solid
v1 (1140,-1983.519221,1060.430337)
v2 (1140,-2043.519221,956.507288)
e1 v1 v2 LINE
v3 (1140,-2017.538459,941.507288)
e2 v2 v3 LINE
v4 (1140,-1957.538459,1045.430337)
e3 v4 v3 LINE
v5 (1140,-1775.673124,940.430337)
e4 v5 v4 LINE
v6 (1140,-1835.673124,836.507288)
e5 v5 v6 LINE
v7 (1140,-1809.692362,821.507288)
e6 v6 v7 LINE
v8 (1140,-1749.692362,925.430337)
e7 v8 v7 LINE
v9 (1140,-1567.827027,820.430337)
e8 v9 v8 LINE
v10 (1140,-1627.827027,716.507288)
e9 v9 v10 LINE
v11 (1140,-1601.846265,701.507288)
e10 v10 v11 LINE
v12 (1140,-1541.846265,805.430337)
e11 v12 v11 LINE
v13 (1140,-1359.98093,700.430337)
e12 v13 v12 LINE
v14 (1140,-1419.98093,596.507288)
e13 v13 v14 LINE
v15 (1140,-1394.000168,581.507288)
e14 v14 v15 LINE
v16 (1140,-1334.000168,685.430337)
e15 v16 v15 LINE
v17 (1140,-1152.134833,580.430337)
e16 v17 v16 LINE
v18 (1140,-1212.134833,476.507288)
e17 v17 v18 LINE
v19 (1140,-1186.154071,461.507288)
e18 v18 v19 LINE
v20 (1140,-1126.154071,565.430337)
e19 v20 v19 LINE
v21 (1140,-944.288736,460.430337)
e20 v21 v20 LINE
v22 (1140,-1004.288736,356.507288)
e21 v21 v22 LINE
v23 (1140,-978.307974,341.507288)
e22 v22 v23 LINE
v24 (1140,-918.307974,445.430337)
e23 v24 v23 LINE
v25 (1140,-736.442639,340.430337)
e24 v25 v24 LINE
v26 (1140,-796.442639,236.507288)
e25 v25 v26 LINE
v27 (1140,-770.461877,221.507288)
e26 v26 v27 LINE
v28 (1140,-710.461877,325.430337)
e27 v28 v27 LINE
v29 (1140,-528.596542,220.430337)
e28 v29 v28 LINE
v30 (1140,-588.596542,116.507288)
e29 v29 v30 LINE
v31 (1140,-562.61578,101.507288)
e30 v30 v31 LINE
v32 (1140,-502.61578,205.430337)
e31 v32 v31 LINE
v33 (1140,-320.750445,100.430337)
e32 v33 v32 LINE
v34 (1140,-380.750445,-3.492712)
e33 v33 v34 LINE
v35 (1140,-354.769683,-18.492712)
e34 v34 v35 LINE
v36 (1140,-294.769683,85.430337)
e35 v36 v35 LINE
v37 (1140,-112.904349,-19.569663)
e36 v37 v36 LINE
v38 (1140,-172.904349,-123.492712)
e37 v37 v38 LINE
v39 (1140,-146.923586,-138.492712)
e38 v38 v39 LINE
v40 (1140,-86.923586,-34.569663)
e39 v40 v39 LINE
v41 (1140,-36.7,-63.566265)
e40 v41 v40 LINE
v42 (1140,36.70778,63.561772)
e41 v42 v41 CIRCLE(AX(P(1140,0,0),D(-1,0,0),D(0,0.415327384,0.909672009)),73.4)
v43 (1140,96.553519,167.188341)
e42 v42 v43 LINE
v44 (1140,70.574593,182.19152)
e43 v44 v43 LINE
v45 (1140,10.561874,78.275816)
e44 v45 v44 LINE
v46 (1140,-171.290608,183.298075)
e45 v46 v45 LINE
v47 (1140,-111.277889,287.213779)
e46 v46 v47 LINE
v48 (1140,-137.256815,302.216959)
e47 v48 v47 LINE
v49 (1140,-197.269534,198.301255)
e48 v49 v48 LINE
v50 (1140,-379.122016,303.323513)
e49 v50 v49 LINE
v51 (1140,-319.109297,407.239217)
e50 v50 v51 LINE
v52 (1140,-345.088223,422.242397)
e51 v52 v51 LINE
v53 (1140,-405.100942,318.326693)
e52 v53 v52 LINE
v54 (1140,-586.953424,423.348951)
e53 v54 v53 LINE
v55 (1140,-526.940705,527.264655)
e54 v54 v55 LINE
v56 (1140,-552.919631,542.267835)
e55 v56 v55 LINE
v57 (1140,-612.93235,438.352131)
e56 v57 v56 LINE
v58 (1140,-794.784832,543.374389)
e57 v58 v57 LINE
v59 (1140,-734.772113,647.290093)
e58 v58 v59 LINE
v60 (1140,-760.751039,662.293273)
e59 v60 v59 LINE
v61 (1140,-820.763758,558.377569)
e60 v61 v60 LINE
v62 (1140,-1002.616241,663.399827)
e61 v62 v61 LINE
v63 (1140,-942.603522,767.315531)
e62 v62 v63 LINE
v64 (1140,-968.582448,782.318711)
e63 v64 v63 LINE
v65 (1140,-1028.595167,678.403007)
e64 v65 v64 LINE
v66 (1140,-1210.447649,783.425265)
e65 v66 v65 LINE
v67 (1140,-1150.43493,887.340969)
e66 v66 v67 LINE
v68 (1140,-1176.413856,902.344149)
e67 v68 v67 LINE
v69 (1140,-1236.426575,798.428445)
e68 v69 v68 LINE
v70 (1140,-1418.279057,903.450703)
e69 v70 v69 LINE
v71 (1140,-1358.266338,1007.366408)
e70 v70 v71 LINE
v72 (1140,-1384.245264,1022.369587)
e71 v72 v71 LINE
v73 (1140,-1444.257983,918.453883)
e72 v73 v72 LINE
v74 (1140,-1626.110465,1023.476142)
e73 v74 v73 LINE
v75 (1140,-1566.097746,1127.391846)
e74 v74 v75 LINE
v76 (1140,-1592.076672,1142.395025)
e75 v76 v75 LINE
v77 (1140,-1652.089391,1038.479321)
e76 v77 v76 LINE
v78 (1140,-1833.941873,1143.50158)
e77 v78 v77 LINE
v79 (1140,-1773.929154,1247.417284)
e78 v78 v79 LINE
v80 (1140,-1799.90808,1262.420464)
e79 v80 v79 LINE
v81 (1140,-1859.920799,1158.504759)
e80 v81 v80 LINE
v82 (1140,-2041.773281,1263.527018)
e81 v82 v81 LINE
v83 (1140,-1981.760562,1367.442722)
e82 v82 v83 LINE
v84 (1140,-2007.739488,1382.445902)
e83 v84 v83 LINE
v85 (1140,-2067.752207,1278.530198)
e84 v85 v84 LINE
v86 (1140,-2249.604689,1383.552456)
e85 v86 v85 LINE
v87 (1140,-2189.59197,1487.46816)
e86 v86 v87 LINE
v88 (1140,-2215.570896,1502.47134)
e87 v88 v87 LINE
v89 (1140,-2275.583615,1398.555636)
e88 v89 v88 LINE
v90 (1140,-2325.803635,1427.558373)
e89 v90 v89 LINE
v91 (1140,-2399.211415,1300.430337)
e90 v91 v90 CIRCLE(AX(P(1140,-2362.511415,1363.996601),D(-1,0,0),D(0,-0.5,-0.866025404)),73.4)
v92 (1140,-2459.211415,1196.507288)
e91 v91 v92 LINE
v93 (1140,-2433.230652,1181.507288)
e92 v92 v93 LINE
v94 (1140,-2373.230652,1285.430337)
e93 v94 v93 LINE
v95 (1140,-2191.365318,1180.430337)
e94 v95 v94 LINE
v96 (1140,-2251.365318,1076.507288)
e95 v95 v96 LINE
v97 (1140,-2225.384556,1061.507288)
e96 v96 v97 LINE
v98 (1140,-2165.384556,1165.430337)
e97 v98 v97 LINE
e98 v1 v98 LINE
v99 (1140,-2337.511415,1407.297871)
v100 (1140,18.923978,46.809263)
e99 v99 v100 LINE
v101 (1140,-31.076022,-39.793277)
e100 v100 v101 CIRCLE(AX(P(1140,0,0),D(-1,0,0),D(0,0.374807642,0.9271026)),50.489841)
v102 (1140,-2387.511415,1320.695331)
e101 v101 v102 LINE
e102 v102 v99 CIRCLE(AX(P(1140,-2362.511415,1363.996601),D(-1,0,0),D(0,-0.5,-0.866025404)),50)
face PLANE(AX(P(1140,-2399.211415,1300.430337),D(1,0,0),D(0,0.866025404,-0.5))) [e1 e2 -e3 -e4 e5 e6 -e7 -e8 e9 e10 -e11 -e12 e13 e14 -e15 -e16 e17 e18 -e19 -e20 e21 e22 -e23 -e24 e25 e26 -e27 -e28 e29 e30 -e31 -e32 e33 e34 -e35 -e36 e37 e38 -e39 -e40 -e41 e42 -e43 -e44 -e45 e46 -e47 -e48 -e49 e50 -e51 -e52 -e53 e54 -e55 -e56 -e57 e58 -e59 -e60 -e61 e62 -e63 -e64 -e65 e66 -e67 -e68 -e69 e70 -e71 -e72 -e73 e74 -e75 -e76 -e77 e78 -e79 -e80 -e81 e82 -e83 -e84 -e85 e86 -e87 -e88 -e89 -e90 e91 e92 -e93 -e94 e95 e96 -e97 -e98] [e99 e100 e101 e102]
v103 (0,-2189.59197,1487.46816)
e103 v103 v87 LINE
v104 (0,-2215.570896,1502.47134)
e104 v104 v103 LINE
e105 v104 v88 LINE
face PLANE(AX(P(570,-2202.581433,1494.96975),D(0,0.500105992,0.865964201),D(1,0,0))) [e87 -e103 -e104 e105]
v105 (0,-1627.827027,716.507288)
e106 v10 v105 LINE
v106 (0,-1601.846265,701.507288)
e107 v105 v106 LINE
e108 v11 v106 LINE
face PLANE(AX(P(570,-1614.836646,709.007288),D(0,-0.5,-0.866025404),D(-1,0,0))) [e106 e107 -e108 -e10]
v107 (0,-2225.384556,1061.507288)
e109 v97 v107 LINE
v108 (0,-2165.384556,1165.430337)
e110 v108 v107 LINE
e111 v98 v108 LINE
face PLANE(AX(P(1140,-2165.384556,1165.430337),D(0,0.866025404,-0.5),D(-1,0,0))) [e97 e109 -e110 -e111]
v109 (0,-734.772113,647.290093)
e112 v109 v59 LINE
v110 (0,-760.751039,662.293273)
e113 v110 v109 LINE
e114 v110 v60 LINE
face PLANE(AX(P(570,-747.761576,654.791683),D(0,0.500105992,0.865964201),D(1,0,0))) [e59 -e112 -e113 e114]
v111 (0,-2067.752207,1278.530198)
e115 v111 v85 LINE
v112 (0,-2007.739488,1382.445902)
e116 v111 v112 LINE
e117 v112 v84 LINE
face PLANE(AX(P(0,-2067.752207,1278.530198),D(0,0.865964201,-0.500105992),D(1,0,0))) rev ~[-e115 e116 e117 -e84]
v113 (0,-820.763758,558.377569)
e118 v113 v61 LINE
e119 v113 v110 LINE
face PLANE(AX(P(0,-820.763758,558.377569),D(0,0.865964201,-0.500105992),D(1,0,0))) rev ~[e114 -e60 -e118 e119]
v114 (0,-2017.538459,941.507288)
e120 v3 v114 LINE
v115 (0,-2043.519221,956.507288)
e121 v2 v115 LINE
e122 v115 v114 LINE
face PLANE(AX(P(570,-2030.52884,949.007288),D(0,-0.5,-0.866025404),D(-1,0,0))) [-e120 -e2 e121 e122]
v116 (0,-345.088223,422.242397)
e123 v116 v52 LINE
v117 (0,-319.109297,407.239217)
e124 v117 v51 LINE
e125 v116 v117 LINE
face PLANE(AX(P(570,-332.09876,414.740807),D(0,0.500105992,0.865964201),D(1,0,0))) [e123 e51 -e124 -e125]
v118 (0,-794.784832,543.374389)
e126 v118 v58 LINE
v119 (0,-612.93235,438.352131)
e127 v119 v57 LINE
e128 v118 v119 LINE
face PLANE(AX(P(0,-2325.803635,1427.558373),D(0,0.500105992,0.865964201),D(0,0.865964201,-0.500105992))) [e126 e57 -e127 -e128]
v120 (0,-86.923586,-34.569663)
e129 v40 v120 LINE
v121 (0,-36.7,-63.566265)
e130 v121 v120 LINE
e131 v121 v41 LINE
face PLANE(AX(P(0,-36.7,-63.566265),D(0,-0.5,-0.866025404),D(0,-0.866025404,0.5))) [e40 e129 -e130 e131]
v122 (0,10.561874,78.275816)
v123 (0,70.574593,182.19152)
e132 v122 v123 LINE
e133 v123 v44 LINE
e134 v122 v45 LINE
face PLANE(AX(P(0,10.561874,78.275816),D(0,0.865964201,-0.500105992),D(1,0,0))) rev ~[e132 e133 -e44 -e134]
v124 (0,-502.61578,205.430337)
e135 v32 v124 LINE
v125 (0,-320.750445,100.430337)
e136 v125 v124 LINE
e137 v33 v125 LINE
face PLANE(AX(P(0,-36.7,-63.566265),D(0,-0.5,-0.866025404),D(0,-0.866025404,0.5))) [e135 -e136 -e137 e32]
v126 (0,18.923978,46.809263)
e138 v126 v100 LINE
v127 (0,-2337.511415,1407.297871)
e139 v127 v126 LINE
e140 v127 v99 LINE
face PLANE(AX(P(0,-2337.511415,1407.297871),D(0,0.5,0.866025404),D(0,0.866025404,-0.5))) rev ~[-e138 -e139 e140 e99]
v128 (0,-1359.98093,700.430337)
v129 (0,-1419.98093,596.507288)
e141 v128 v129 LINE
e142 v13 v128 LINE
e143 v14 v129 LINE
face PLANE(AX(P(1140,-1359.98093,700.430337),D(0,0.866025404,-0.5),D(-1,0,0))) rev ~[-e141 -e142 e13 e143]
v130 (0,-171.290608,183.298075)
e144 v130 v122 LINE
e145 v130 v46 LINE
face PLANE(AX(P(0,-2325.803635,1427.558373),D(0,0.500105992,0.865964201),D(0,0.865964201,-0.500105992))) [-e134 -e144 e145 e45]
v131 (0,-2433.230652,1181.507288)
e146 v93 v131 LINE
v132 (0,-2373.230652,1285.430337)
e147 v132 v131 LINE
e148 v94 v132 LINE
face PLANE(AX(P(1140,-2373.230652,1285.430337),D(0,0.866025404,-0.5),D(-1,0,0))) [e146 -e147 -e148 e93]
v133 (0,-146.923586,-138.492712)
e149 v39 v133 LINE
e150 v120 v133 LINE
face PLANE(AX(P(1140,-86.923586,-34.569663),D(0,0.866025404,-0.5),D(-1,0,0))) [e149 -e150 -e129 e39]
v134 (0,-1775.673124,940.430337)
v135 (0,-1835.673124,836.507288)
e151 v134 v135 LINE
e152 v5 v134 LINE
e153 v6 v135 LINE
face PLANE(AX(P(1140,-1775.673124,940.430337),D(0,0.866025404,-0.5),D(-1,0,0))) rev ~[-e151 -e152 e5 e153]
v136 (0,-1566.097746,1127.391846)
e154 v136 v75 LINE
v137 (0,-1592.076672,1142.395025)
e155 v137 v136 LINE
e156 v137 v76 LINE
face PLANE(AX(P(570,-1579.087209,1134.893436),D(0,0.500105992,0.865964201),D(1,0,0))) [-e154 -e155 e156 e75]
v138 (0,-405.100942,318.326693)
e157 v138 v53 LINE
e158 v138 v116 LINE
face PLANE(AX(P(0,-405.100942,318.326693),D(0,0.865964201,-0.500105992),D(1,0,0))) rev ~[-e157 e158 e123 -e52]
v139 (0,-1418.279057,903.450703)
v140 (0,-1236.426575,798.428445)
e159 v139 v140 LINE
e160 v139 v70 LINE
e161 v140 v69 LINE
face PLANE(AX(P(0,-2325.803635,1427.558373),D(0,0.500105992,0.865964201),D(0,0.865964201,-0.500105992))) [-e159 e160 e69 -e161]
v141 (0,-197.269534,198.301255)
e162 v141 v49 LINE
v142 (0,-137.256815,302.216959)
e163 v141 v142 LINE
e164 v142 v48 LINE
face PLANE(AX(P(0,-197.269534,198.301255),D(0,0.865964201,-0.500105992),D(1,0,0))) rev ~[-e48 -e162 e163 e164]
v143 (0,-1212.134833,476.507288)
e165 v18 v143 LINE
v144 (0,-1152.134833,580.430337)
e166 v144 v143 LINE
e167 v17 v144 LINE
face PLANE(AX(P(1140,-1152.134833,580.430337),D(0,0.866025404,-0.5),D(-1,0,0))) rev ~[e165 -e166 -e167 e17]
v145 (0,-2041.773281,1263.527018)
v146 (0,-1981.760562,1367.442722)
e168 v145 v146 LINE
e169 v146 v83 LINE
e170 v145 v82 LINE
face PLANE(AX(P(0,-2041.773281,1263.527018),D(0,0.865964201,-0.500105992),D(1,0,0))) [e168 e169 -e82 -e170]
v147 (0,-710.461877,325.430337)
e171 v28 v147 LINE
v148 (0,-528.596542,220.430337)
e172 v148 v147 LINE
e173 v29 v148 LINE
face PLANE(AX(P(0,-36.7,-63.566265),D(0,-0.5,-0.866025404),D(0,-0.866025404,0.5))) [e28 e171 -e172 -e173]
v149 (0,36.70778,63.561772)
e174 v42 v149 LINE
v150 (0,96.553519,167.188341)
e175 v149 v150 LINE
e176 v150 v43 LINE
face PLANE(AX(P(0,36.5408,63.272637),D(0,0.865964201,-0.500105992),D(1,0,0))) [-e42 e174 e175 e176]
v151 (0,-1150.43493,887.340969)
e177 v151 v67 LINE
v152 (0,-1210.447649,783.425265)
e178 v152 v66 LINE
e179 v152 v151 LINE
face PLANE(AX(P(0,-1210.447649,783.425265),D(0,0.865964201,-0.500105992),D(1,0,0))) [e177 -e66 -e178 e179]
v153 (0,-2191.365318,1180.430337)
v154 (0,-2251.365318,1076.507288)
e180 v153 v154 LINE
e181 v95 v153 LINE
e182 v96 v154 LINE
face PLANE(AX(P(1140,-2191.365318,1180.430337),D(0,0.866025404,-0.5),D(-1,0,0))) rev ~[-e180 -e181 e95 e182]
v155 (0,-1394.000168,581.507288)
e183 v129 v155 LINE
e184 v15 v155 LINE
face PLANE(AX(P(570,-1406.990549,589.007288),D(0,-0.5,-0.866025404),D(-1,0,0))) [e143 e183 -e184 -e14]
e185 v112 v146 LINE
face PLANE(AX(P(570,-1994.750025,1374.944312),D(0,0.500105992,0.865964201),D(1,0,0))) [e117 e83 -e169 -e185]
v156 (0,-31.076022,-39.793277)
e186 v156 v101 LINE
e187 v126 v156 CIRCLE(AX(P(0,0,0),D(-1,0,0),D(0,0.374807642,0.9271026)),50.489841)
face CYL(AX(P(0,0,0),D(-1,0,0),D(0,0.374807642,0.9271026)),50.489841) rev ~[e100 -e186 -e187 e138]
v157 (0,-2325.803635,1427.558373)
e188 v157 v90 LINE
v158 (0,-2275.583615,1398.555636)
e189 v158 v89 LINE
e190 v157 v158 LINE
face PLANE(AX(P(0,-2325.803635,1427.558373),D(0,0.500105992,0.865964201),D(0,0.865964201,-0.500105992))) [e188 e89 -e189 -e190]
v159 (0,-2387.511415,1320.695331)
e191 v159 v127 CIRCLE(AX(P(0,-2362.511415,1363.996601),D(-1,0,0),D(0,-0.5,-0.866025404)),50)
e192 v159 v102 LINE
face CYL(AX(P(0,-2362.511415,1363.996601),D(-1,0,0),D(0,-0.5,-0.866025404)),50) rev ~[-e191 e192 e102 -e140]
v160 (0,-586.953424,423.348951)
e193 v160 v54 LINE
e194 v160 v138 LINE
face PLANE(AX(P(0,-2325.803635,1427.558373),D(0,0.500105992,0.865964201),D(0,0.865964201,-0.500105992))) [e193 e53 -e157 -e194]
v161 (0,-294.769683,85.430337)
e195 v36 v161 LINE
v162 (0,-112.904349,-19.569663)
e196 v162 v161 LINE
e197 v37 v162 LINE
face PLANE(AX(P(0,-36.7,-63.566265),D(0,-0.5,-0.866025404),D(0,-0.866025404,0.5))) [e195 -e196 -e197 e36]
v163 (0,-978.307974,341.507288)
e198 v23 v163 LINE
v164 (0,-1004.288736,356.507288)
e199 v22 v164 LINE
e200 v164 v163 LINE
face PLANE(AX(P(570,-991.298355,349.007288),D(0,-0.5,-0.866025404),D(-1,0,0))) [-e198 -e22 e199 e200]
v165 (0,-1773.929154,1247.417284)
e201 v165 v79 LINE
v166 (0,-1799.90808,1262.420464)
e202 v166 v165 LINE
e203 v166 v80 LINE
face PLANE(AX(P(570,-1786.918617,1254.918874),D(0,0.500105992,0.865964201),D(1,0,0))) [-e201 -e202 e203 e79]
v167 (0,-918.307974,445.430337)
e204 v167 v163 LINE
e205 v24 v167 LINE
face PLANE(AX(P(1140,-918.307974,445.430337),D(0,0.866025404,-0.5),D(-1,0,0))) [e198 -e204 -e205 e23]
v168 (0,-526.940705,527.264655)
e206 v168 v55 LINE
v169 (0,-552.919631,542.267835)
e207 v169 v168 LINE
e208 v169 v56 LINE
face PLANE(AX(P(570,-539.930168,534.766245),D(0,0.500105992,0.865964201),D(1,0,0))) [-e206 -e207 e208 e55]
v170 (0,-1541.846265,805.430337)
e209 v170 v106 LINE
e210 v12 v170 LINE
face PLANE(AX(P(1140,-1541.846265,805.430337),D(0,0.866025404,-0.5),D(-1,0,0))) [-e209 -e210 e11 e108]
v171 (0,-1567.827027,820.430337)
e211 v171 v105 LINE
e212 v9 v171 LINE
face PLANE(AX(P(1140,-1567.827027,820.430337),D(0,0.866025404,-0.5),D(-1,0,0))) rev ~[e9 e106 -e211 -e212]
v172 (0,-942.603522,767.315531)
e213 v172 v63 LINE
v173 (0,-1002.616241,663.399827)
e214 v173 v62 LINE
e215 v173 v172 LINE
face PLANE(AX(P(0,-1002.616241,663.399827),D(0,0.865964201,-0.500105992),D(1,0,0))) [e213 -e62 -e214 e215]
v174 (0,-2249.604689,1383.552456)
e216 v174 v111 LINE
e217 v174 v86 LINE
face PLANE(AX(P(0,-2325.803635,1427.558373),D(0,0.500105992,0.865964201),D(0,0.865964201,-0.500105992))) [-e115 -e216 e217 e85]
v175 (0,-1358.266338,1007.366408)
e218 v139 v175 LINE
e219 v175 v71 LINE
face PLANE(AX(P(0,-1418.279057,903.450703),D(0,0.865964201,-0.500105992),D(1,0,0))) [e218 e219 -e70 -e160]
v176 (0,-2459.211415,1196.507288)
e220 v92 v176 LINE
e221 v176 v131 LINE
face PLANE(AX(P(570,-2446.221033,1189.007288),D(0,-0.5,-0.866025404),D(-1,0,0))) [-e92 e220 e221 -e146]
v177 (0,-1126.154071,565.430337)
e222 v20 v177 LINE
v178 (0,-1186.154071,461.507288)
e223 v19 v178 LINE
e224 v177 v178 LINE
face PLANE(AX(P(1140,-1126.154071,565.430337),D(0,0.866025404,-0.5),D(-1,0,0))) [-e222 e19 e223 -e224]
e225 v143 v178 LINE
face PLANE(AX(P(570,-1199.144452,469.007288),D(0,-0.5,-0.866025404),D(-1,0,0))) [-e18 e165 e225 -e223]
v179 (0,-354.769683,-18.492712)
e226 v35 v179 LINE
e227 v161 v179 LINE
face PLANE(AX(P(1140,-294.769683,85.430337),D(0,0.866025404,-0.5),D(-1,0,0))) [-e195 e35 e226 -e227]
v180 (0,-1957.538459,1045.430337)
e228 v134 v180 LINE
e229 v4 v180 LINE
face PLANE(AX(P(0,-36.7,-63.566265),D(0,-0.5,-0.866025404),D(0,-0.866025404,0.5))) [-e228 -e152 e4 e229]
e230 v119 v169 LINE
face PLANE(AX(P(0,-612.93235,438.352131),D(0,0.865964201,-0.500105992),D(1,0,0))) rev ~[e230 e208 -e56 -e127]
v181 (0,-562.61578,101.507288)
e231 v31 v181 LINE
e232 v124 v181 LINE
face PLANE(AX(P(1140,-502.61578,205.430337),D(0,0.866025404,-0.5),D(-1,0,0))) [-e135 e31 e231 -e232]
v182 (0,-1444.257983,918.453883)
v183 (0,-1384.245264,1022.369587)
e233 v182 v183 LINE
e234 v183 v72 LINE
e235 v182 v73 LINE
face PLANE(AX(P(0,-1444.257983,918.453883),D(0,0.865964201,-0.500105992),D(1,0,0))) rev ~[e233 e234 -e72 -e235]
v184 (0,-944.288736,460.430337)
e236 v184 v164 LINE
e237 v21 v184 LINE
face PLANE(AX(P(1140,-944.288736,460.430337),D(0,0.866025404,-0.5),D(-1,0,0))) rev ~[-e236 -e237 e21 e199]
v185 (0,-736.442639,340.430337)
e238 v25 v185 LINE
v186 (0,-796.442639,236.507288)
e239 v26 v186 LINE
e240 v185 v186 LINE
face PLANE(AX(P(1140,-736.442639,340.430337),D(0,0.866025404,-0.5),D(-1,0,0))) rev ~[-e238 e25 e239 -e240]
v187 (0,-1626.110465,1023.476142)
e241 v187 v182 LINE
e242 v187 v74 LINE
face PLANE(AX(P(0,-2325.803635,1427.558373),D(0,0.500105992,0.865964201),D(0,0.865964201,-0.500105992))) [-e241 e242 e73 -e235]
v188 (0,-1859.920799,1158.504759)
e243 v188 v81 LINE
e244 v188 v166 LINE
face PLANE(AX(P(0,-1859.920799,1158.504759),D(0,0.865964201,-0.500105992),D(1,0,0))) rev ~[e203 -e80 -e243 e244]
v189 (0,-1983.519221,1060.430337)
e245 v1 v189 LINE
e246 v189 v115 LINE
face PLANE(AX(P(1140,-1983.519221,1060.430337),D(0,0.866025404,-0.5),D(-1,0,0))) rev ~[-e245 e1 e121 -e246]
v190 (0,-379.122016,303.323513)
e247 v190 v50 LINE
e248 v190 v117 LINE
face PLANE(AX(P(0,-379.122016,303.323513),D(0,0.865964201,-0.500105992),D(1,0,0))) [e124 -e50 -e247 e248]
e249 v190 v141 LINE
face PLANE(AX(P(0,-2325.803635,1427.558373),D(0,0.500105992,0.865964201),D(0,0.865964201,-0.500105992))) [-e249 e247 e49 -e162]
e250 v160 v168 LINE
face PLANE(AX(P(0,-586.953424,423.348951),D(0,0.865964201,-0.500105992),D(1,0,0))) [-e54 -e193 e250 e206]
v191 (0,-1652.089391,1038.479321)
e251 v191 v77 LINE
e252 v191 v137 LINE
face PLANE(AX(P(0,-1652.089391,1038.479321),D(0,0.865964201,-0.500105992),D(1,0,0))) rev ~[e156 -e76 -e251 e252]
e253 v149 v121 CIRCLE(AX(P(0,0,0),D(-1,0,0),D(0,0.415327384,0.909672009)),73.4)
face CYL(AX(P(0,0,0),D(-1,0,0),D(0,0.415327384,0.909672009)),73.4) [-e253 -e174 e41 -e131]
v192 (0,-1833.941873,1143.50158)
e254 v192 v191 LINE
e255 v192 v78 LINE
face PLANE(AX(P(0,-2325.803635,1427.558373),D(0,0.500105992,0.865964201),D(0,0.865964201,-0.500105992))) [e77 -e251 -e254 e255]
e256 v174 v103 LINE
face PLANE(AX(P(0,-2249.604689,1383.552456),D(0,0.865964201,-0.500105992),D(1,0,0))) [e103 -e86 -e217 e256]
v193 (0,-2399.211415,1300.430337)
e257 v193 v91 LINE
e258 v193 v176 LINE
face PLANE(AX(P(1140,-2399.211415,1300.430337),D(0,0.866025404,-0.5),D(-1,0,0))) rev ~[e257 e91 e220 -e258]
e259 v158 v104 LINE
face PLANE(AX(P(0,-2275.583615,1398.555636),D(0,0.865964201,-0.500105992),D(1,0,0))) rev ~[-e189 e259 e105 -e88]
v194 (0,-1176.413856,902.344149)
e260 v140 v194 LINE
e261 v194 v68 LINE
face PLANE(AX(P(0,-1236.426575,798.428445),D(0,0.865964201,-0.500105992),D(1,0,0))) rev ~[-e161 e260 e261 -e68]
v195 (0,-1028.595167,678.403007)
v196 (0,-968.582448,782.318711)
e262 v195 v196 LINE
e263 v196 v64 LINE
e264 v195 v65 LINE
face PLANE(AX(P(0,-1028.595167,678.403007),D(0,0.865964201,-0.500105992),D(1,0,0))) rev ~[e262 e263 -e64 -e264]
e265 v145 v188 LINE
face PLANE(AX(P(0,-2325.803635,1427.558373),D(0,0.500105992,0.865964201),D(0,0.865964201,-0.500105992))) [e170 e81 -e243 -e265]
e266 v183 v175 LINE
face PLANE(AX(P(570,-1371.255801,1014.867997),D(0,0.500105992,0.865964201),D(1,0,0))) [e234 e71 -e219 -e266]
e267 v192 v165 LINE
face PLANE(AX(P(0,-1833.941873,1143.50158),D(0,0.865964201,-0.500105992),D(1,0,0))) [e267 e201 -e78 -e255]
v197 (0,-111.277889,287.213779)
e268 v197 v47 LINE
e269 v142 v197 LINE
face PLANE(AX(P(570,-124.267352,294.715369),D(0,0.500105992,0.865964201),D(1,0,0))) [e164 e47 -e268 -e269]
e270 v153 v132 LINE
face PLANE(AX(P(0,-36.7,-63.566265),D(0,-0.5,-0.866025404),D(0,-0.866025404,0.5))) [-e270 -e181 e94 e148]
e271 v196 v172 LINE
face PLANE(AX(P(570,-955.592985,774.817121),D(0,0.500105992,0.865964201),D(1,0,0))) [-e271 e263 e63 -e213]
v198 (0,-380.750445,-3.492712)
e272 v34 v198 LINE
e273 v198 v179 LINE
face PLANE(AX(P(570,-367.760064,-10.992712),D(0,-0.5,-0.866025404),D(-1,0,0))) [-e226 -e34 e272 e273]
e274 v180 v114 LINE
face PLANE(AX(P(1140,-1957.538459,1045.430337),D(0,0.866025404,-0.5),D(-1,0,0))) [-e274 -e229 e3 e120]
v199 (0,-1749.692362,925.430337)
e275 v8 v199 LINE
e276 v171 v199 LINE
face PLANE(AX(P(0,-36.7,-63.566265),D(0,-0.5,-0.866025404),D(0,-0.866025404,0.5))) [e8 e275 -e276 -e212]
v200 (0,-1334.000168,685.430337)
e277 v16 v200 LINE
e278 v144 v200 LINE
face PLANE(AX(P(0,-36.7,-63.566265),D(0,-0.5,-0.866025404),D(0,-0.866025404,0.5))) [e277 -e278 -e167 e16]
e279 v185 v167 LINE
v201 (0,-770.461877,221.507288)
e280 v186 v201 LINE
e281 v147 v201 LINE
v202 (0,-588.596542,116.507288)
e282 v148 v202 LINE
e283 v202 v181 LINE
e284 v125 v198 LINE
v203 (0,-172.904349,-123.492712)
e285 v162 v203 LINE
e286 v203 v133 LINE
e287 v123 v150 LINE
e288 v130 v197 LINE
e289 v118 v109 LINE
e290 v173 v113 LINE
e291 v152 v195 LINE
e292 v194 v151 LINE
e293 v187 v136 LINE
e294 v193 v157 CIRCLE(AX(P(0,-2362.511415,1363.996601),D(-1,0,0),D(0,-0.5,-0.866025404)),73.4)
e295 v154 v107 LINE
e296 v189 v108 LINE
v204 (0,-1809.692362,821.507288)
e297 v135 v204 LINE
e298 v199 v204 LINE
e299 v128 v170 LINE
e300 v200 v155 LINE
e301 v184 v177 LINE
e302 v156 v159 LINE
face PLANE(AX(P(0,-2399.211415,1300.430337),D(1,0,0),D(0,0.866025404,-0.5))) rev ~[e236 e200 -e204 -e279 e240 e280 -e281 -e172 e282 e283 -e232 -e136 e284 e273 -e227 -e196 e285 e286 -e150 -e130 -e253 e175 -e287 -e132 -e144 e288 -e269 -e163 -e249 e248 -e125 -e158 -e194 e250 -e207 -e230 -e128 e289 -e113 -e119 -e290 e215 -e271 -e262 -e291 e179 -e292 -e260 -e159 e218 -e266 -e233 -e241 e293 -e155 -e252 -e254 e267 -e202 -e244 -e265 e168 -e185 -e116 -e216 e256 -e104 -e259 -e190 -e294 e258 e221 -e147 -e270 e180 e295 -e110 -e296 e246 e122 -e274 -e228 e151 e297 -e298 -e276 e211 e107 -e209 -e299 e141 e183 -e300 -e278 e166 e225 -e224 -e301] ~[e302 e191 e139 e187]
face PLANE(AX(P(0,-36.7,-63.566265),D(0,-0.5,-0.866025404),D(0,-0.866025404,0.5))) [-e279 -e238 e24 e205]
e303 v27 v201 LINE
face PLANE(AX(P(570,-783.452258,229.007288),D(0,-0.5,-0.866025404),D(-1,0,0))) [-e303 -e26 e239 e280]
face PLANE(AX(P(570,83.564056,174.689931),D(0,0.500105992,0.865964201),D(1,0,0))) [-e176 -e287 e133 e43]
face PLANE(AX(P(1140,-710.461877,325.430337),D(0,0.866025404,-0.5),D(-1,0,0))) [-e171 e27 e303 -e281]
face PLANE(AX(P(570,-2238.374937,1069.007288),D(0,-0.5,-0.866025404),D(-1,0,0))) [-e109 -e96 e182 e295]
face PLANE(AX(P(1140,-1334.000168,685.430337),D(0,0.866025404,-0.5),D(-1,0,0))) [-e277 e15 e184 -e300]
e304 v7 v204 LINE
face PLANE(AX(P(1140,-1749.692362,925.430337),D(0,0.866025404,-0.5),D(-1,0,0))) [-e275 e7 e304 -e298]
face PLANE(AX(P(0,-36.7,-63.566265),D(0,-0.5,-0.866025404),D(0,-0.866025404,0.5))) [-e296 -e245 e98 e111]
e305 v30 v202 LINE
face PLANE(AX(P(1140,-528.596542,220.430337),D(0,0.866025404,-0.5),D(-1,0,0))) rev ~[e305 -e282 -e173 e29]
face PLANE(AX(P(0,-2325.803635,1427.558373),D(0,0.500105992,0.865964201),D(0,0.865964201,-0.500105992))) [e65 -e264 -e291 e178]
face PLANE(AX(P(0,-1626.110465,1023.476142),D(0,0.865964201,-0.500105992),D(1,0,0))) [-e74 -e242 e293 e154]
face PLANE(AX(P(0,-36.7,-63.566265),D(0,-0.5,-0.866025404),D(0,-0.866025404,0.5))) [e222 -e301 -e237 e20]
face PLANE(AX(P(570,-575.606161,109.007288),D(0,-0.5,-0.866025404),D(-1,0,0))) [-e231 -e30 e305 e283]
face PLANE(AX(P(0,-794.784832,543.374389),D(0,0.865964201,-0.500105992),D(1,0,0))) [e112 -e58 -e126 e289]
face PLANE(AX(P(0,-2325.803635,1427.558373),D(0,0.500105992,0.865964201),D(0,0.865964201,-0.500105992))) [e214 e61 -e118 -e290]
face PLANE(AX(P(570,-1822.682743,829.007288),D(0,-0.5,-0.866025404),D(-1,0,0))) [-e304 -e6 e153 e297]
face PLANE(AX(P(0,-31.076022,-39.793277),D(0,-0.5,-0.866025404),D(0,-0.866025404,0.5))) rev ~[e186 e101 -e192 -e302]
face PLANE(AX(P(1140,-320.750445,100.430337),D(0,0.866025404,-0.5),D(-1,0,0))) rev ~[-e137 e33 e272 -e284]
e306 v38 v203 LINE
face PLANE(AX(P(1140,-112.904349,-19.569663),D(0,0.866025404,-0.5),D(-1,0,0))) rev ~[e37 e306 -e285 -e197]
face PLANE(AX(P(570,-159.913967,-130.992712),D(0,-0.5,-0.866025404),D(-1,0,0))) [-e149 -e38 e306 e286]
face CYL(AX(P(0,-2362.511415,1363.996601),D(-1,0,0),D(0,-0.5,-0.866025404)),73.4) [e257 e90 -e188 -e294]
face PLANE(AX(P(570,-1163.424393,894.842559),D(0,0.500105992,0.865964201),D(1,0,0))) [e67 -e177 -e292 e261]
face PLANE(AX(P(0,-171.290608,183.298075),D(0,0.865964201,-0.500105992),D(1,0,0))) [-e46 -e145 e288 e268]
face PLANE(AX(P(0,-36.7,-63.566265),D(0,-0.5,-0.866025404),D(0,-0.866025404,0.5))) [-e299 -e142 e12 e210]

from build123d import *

# Parameters (mm, degrees)
BOSS_EXTRUDE1_DEPTH = 1140
SKETCH2_W           = 1140
SKETCH2_H           = 30
BOSS_EXTRUDE2_DEPTH = 120
LPATTERN1_COUNT     = 12
LPATTERN1_PITCH     = 240
SKETCH3_W           = 1140
SKETCH3_H           = 30
BOSS_EXTRUDE3_DEPTH = 120
LPATTERN2_COUNT     = 12
LPATTERN2_PITCH     = 240


with BuildPart() as part:
    # Sketch1 → Boss-Extrude1 (new body)
    with BuildSketch(Plane(origin=(0, 0, 0), x_dir=(0, 0, -1), z_dir=(1, 0, 0))):
        with BuildLine():
            Line((-1427.55837346, -2325.803634702), (-66.769925465, 30.485029988))
            ThreePointArc((-66.769925465, 30.485029988), (33.630684267, 65.242141869), (63.566264638, -36.7))
            Line((63.566264638, -36.7), (-1300.430336503, -2399.211414527))
            ThreePointArc((-1300.430336503, -2399.211414527), (-1400.700491121, -2426.075433124), (-1427.55837346, -2325.803634702))
        make_face()
        with BuildLine():
            Line((-1407.29787133, -2337.511414527), (-46.809262955, 18.923978297))
            ThreePointArc((-46.809262955, 18.923978297), (25.244920543, 43.725485014), (39.793277424, -31.076021703))
            Line((39.793277424, -31.076021703), (-1320.695330951, -2387.511414527))
            ThreePointArc((-1320.695330951, -2387.511414527), (-1388.996601141, -2405.812684716), (-1407.29787133, -2337.511414527))
        make_face(mode=Mode.SUBTRACT)
    extrude(amount=BOSS_EXTRUDE1_DEPTH)

    # Sketch2 → Boss-Extrude2 (add)
    with BuildSketch(Plane(origin=(0, 36.540800081, 63.272636652), x_dir=(1, 0, 0), z_dir=(0, 0.5001059921576408, 0.8659642005348847))):
        with Locations((570, -15)):
            Rectangle(SKETCH2_W, SKETCH2_H)
    boss_extrude2 = extrude(amount=BOSS_EXTRUDE2_DEPTH)

    # LPattern1: Boss-Extrude2 ×12
    with Locations(*[Vector(0, -0.8659642005348845, 0.5001059921576408) * (i * LPATTERN1_PITCH) for i in range(1, LPATTERN1_COUNT)]):
        add(boss_extrude2)

    # Sketch3 → Boss-Extrude3 (add)
    with BuildSketch(Plane(origin=(0, -36.7, -63.566264638), x_dir=(-1, 0, 0), z_dir=(0, -0.49999999999999756, -0.86602540378444))):
        with Locations((-570, -2712.993202281)):
            Rectangle(SKETCH3_W, SKETCH3_H)
    boss_extrude3 = extrude(amount=BOSS_EXTRUDE3_DEPTH)

    # LPattern2: Boss-Extrude3 ×12
    with Locations(*[Vector(0, 0.86602540378444, -0.49999999999999767) * (i * LPATTERN2_PITCH) for i in range(1, LPATTERN2_COUNT)]):
        add(boss_extrude3)


solid = part.part
